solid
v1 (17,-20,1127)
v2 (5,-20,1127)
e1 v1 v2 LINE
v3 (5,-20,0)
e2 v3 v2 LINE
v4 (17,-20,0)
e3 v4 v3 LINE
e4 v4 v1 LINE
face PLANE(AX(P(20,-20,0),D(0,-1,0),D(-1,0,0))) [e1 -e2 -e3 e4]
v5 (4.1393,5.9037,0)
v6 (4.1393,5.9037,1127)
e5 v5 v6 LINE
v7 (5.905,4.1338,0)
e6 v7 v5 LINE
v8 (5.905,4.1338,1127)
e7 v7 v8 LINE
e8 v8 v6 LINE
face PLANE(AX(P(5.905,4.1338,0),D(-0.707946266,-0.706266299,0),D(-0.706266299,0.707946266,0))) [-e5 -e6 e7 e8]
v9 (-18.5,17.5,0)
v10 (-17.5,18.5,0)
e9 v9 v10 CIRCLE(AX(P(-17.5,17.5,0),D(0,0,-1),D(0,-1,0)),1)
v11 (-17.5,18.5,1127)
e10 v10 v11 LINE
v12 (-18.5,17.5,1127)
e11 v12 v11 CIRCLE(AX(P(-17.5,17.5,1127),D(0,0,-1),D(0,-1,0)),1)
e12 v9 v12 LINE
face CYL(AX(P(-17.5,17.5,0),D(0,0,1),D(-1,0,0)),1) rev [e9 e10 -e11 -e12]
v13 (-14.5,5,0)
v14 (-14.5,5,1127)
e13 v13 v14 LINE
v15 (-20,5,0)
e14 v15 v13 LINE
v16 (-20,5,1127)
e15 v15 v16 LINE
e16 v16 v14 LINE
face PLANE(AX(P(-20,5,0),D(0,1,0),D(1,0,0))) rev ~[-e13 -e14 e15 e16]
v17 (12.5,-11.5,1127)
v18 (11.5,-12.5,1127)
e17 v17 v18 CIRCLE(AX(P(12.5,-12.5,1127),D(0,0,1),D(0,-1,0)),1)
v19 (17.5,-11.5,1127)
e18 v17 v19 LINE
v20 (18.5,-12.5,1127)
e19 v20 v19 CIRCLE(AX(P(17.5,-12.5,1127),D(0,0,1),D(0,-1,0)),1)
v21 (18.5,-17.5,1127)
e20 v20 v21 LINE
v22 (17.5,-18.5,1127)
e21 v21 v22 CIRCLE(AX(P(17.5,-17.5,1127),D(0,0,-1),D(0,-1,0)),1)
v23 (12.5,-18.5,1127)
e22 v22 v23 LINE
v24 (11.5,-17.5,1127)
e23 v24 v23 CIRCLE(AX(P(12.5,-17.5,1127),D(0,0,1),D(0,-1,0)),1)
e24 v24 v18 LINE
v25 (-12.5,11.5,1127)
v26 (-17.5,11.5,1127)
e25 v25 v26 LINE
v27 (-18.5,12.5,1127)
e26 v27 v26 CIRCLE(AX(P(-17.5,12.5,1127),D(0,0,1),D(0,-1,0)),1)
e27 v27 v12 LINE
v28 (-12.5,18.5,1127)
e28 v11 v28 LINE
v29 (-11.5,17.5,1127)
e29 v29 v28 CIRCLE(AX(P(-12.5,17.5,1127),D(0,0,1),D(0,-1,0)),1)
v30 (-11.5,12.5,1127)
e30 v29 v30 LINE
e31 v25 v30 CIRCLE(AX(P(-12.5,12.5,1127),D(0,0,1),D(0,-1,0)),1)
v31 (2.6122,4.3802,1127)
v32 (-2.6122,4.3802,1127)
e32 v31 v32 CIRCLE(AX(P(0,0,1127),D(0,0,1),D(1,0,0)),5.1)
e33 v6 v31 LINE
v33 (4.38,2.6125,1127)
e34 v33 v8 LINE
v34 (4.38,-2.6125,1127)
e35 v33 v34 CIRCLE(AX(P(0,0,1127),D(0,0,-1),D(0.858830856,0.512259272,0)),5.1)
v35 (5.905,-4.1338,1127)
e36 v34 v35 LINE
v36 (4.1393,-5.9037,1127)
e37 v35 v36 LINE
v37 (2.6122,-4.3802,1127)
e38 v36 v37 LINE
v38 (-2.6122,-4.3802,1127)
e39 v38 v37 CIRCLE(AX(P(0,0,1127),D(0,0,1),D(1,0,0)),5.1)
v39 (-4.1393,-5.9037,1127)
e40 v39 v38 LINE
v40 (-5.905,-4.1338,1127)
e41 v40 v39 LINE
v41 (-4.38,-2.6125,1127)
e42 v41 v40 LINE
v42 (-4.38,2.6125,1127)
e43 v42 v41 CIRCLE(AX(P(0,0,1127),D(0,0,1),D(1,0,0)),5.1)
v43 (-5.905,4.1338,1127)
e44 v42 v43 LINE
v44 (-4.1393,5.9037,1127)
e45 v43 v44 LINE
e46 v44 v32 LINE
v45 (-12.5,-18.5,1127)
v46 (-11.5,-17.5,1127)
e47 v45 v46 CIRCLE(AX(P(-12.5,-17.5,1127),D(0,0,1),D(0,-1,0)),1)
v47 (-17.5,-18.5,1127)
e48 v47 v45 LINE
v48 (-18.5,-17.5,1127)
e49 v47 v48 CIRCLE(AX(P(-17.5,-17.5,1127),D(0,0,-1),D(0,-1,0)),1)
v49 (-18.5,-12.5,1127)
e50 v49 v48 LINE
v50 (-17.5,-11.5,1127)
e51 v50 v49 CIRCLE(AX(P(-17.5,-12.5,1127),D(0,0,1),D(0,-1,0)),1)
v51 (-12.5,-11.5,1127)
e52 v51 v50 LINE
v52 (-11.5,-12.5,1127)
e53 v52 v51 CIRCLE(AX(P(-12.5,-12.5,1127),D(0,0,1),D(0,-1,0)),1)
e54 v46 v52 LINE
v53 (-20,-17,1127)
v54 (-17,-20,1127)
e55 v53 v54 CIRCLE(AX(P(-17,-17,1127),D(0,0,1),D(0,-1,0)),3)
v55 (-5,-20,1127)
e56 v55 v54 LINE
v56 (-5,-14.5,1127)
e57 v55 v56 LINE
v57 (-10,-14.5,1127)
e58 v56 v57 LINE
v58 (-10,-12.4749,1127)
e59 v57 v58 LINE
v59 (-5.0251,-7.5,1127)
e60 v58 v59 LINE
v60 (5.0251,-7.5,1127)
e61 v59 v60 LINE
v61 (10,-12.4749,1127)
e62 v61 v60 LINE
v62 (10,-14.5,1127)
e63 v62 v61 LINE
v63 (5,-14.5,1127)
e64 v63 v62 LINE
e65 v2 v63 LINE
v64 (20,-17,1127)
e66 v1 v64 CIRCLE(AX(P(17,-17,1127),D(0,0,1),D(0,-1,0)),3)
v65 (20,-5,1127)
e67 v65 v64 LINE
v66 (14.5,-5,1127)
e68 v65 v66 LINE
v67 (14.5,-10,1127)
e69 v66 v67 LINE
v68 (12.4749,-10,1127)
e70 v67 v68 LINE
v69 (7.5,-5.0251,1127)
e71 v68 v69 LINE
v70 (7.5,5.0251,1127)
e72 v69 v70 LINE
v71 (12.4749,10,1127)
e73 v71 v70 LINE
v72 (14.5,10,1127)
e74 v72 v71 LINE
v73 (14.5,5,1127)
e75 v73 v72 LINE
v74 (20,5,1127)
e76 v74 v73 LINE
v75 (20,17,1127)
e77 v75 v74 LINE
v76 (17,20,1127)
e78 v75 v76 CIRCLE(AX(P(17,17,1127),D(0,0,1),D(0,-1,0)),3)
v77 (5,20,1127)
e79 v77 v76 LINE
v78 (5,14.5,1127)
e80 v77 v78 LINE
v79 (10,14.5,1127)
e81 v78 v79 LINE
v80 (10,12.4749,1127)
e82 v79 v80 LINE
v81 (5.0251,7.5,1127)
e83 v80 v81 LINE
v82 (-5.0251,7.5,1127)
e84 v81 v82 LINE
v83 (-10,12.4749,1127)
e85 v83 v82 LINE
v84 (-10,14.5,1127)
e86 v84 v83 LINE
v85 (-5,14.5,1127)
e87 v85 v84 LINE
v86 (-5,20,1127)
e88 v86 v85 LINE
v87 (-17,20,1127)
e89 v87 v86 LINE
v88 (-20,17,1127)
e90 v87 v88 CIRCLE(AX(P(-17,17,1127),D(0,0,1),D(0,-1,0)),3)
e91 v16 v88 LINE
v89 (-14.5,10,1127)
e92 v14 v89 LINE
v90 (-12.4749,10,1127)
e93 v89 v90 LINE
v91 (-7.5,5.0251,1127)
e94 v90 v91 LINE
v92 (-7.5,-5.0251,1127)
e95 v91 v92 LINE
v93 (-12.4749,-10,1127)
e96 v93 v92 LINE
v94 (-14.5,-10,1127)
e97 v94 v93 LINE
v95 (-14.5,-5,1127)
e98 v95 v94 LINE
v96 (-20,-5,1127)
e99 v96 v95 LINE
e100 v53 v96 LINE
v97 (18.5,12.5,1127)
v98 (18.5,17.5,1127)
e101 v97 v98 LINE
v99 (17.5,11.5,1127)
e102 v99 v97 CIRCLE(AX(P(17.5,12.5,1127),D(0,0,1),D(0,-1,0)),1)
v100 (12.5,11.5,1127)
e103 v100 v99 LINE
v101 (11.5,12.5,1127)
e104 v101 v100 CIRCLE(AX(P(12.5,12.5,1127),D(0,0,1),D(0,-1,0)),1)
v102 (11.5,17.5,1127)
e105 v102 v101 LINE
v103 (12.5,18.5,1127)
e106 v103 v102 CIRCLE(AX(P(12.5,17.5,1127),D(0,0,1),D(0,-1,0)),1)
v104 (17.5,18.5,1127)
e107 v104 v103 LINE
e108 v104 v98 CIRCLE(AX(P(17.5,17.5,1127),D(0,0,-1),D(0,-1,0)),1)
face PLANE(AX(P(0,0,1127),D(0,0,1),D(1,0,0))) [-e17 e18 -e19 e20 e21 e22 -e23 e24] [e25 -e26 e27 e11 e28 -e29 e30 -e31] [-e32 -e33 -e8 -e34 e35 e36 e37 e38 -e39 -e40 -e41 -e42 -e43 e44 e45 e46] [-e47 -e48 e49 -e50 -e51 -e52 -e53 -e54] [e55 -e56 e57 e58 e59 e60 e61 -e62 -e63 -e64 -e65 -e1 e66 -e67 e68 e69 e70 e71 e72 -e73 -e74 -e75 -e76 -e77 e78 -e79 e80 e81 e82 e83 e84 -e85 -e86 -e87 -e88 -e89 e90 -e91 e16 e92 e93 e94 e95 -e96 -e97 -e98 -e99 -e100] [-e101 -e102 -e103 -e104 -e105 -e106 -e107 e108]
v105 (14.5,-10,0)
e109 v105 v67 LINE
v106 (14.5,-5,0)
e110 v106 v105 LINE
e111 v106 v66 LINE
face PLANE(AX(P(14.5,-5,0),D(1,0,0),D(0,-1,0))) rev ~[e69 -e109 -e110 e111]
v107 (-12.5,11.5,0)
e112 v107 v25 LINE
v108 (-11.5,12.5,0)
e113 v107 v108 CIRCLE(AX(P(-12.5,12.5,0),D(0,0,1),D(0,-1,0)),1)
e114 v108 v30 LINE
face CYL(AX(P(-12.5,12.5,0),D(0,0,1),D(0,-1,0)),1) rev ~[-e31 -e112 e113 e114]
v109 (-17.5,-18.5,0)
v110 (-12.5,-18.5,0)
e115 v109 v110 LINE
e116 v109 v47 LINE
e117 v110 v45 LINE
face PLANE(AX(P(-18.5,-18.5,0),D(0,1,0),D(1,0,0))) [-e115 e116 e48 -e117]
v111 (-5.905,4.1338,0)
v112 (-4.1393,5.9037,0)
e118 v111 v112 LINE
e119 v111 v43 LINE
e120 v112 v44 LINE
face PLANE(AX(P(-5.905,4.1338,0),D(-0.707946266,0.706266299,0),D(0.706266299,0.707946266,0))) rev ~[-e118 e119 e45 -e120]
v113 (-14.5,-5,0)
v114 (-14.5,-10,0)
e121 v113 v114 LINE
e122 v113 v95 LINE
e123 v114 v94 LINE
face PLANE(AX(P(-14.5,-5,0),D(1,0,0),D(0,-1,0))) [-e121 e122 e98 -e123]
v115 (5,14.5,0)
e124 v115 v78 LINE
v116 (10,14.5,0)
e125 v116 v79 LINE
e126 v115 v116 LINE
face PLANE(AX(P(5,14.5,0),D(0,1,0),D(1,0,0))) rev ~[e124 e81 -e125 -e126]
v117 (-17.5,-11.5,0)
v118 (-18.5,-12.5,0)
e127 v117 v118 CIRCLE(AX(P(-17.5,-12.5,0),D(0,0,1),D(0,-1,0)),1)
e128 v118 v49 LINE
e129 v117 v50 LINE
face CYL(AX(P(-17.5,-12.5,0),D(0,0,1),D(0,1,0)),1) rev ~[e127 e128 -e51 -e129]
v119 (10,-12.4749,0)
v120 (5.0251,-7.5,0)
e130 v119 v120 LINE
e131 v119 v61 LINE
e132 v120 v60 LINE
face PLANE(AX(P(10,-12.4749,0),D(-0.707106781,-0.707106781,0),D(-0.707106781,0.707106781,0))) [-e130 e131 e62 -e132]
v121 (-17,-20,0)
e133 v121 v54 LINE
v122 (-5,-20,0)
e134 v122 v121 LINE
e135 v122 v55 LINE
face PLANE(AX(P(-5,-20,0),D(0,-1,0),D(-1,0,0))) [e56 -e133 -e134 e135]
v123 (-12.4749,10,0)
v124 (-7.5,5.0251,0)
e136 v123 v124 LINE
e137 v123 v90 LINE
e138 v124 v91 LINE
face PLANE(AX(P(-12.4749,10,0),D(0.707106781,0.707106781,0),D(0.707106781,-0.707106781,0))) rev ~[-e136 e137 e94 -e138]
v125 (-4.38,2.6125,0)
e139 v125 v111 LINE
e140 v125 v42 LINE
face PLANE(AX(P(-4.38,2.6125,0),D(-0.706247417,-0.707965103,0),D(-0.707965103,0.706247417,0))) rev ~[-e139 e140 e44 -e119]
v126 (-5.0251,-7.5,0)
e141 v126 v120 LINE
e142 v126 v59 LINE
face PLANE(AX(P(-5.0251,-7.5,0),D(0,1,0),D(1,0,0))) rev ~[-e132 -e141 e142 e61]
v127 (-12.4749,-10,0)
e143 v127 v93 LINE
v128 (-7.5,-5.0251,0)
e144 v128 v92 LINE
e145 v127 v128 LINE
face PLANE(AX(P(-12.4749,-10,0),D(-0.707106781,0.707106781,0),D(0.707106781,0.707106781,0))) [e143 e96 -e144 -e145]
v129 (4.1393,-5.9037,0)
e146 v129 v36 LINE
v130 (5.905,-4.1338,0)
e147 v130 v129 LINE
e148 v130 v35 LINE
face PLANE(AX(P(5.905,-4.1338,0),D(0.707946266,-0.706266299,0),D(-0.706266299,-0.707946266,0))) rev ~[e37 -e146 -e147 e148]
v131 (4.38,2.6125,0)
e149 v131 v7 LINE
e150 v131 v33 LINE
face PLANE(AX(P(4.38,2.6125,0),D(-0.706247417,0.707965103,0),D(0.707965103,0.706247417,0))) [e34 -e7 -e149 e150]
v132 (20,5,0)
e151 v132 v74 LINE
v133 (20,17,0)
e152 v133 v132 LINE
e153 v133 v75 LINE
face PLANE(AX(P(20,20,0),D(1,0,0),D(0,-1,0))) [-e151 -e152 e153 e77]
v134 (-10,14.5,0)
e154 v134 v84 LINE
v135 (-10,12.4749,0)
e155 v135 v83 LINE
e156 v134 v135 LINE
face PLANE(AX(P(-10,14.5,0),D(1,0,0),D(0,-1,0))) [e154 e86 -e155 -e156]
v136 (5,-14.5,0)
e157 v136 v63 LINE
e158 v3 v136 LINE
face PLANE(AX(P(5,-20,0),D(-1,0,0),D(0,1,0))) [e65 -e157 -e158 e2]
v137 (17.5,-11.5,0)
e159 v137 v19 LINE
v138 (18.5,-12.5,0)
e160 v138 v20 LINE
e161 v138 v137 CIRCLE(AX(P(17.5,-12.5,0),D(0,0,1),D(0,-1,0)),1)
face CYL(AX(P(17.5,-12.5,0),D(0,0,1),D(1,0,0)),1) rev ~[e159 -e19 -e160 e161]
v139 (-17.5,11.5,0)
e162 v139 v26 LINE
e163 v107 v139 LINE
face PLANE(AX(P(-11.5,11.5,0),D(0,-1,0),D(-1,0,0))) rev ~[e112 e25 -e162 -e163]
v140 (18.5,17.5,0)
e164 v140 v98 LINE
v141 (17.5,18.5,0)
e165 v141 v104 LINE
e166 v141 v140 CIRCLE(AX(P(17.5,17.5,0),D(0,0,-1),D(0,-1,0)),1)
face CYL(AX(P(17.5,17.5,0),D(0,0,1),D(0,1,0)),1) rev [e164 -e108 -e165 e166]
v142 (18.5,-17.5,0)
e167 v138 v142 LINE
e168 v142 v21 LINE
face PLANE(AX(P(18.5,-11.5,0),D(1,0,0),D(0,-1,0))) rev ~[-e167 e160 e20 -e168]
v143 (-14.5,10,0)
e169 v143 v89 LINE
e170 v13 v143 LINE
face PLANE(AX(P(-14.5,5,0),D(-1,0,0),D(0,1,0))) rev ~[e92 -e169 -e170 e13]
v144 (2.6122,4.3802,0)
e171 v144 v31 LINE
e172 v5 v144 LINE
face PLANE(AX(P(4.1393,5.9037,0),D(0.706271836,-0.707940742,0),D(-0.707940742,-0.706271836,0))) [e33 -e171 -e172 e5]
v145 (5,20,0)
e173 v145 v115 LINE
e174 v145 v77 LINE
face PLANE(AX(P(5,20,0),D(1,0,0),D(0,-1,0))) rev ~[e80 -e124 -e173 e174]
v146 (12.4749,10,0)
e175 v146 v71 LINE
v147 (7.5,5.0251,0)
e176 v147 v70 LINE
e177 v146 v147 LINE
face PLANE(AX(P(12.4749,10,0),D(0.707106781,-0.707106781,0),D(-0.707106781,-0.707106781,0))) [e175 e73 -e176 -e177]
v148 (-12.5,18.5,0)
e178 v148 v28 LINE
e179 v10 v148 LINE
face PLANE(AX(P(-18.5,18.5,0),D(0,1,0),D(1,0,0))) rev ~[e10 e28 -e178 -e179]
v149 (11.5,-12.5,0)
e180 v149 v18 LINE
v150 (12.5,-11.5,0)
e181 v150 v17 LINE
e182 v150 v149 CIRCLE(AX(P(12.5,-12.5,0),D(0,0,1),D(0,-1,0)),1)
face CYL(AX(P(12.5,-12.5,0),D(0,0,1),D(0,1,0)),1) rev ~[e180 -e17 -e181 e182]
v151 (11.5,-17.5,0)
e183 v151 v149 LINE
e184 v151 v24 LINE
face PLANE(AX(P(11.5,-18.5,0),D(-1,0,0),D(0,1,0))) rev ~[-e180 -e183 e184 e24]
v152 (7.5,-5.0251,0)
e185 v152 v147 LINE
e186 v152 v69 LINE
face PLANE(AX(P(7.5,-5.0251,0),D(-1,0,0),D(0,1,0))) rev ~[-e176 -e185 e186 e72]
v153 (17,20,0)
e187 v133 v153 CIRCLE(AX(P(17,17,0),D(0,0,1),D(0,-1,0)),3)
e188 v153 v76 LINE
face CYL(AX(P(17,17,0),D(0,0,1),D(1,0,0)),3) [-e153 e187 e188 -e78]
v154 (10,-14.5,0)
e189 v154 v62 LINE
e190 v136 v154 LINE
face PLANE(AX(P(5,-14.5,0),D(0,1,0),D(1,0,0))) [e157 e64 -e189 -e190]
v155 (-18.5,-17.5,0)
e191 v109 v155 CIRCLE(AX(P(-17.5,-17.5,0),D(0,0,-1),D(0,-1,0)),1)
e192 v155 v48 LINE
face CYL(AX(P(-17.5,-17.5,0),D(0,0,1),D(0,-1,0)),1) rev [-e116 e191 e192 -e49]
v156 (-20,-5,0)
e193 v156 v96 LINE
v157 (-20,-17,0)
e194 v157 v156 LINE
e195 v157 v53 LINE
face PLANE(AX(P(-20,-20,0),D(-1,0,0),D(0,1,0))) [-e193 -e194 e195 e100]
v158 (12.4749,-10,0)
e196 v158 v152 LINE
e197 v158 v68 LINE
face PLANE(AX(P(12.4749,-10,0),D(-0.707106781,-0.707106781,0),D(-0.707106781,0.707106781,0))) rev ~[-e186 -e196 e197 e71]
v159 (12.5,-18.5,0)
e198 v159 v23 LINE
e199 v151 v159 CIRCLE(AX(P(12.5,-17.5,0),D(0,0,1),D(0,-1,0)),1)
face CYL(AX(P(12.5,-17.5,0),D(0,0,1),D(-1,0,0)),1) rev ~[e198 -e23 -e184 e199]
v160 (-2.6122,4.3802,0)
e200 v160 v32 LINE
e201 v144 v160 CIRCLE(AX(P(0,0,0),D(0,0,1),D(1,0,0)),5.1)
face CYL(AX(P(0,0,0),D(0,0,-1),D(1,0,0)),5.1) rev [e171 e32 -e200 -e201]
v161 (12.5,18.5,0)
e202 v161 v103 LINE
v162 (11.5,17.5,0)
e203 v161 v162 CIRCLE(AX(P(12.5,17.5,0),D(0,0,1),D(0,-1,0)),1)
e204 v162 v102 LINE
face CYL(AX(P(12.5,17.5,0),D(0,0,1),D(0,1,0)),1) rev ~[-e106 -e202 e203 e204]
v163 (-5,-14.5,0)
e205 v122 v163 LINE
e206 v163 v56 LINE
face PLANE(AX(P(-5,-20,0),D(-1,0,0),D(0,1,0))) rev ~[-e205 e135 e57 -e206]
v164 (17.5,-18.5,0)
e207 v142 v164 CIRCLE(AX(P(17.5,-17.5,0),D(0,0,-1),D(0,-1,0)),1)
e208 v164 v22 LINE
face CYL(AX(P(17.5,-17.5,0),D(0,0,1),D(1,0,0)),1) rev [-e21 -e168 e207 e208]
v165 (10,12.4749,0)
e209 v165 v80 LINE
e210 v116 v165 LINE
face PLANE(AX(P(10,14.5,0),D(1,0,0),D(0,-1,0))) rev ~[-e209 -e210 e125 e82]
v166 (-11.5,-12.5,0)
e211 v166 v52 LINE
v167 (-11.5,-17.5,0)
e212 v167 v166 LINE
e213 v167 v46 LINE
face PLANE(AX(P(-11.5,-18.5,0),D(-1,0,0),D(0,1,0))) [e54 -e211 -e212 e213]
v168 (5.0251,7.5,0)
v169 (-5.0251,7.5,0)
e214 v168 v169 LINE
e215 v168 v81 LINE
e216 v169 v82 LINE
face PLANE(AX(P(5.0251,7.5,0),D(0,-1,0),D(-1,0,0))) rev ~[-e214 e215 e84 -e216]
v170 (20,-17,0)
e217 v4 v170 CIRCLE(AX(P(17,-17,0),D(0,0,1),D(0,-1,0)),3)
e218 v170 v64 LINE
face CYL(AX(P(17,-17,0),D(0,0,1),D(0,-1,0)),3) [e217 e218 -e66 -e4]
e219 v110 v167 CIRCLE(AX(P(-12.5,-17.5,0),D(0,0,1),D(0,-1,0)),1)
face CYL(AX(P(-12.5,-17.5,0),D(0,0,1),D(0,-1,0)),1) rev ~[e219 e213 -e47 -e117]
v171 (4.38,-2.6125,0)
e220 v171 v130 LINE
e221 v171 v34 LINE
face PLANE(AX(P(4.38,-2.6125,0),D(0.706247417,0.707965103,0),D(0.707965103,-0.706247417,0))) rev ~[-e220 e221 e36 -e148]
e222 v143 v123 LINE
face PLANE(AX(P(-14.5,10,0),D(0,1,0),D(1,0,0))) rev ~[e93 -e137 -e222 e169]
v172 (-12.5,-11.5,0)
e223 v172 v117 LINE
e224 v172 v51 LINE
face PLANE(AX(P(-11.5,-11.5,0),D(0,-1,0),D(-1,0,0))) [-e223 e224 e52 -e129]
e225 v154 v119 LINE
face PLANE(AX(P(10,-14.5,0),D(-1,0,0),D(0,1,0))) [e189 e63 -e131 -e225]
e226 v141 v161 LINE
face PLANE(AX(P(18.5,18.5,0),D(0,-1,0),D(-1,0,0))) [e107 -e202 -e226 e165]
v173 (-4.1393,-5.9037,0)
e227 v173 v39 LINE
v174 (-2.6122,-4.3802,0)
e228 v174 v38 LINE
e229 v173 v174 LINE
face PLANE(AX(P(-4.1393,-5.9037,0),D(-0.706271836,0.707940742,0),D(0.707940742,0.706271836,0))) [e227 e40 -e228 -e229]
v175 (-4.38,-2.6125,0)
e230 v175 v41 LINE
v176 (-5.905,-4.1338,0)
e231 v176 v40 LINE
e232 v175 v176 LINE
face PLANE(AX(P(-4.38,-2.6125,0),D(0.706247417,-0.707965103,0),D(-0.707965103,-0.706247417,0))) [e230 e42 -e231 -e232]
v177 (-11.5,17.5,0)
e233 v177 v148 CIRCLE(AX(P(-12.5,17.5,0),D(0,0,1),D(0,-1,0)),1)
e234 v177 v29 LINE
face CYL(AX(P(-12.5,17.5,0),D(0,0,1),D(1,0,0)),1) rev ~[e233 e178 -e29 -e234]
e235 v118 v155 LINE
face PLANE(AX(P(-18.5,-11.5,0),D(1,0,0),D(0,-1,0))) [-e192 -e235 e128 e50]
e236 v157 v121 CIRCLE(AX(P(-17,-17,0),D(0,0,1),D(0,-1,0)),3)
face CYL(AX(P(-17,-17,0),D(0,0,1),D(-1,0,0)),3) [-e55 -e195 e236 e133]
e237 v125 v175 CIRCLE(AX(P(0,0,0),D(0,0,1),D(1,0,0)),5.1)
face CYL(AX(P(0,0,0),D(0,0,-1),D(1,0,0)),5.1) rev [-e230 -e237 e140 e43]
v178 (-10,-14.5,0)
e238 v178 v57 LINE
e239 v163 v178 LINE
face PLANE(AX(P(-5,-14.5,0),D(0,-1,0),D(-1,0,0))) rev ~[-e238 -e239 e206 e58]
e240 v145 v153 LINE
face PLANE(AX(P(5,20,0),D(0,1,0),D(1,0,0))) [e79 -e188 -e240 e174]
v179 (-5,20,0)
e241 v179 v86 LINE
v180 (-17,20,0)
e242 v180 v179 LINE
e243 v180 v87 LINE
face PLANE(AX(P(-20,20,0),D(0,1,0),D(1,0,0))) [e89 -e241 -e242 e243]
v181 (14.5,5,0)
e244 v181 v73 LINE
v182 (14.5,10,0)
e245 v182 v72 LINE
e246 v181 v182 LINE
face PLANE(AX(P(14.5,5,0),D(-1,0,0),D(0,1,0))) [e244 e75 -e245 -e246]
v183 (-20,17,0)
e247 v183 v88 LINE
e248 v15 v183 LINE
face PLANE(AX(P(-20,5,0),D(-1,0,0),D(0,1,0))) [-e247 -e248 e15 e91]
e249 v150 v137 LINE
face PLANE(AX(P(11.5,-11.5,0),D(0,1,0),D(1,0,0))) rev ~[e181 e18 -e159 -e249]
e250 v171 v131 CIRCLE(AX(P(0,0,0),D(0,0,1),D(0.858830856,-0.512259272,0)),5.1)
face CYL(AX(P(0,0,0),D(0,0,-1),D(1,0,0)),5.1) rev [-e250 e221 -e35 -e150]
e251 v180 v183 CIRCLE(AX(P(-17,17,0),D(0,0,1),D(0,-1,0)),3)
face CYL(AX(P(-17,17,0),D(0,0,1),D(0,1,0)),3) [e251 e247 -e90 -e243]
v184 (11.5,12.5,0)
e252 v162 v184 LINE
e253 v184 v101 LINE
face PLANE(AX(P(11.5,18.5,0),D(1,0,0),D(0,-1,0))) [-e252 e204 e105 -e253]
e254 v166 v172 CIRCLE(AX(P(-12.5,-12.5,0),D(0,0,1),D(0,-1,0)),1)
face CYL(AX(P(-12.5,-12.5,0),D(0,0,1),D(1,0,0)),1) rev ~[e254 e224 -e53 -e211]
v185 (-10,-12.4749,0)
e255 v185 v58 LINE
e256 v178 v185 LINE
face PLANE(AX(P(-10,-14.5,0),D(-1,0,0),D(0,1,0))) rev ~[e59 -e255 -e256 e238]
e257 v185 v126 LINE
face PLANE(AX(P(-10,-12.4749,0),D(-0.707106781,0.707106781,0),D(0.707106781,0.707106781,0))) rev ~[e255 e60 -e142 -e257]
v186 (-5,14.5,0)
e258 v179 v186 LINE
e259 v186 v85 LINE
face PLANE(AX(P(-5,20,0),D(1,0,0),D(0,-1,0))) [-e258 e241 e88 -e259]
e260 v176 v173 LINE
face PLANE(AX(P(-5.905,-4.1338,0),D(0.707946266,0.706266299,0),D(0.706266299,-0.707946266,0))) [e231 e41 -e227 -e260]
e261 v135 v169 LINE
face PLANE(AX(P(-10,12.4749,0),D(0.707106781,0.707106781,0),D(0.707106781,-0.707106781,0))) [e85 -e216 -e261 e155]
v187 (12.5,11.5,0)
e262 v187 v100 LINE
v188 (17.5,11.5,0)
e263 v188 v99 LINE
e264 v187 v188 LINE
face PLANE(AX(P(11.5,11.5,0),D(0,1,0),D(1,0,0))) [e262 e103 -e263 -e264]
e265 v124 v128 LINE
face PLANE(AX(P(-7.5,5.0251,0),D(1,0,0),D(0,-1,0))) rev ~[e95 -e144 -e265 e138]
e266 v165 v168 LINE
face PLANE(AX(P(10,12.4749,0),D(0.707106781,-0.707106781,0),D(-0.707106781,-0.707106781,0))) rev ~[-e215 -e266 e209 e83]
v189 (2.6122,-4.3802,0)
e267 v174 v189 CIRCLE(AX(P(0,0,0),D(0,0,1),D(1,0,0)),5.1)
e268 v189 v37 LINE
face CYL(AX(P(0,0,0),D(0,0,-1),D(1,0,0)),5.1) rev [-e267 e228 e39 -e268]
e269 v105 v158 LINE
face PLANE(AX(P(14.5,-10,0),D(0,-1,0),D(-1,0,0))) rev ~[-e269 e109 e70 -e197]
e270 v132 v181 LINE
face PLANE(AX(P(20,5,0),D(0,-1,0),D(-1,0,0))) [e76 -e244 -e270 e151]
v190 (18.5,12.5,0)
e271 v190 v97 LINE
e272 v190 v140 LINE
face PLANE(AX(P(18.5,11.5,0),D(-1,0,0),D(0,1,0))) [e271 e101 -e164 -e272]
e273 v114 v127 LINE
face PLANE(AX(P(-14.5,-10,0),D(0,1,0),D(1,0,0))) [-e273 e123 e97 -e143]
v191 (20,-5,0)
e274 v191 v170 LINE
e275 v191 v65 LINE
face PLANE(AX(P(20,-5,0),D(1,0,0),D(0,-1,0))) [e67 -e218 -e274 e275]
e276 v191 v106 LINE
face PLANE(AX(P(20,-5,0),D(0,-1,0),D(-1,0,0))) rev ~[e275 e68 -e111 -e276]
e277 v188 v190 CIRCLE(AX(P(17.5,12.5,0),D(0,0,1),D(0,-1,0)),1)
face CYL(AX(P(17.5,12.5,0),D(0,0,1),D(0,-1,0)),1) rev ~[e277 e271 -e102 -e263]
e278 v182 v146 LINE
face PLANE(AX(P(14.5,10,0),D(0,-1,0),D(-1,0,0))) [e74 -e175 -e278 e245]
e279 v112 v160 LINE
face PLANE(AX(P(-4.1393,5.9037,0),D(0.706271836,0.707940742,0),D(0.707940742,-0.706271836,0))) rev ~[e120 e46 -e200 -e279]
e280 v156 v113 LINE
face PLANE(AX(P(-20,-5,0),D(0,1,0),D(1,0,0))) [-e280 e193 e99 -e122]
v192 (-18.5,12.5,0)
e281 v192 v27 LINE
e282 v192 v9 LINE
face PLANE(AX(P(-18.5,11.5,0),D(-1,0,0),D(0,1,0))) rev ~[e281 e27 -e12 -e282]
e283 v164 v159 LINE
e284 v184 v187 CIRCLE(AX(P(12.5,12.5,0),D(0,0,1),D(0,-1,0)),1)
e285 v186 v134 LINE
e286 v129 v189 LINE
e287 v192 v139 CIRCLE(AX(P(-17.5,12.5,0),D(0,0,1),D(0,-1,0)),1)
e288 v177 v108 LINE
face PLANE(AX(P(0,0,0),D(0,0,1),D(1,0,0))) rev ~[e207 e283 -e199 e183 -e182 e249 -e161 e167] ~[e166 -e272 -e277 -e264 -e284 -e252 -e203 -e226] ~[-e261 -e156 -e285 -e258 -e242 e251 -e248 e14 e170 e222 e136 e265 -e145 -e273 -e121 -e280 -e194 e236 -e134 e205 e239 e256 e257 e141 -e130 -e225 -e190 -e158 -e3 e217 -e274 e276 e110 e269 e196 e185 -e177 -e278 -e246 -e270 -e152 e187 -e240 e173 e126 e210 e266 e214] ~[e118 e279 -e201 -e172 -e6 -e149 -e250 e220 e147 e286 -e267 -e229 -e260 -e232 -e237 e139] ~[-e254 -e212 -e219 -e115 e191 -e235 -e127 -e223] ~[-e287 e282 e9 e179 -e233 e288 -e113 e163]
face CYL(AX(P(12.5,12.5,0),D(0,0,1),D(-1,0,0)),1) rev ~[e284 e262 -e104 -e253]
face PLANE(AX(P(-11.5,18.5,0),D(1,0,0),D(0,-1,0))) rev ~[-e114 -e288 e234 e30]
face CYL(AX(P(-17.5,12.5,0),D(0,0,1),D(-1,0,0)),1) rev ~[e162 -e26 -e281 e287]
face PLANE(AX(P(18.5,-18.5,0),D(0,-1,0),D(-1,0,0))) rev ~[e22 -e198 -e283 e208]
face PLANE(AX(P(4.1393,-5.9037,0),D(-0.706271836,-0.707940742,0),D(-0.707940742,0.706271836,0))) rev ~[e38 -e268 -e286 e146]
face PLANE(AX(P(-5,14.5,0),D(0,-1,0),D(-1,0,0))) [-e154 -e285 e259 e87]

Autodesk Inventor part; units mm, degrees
ref_plane "YZ Plane" through (0, 0, 0) normal (1, 0, 0) x (0, 1, 0)
ref_plane "XZ Plane" through (0, 0, 0) normal (0, 1, 0) x (-1, 0, 0)
ref_plane "XY Plane" through (0, 0, 0) normal (0, 0, 1) x (1, 0, 0)
sketch "T-Slot 4040 Base" plane through (0, 0, 0) normal (0, 0, 1) x (1, 0, 0)
  line L0 (-28, 0) -> (28, 0) construction
  line L1 (0, -28) -> (0, 28) construction
  circle A0 centre (0, 0) radius 5.1
  line L2 (-7.5, -7.5) -> (7.5, -7.5)
  line L3 (7.5, -7.5) -> (7.5, 7.5)
  line L4 (7.5, 7.5) -> (-7.5, 7.5)
  line L5 (-7.5, 7.5) -> (-7.5, -7.5)
  line L6 (-7.5, -7.5) -> (7.5, 7.5) construction
  line L7 (7.5, -7.5) -> (-7.5, 7.5) construction
  line L8 (-20, 20) -> (20, 20)
  line L9 (20, 20) -> (20, -20)
  line L10 (20, -20) -> (-20, -20)
  line L11 (-20, -20) -> (-20, 20)
  line L12 (-20, 20) -> (20, -20) construction
  line L13 (20, 20) -> (-20, -20) construction
  line L14 (20, 5) -> (14.5, 5)
  line L15 (14.5, 5) -> (14.5, 10)
  line L16 (14.5, 10) -> (12.4749, 10)
  line L17 (12.4749, 10) -> (7.5, 5.0251)
  line L18 (5, 20) -> (5, 14.5)
  line L19 (5, 14.5) -> (10, 14.5)
  line L20 (10, 14.5) -> (10, 12.4749)
  line L21 (10, 12.4749) -> (5.0251, 7.5)
  line L22 (18.5, 18.5) -> (11.5, 18.5)
  line L23 (11.5, 18.5) -> (11.5, 11.5)
  line L24 (11.5, 11.5) -> (18.5, 11.5)
  line L25 (18.5, 11.5) -> (18.5, 18.5)
  line L26 (18.5, 18.5) -> (11.5, 11.5) construction
  line L27 (11.5, 18.5) -> (18.5, 11.5) construction
  line L28 (3.0732, 1.3088) -> (4.38, 2.6125) construction
  line L29 (5.905, 4.1338) -> (4.1393, 5.9037)
  line L30 (4.1393, 5.9037) -> (2.6122, 4.3802)
  line L31 (1.3075, 3.0787) -> (3.0732, 1.3088) construction
  line L32 (3.0732, 1.3088) -> (4.1393, 5.9037) construction
  line L33 (5.905, 4.1338) -> (1.3075, 3.0787) construction
  line L34 (4.38, 2.6125) -> (5.905, 4.1338)
  line L35 (2.6122, 4.3802) -> (1.3075, 3.0787) construction
  line L36 (-20, 5) -> (-14.5, 5)
  line L37 (-14.5, 5) -> (-14.5, 10)
  line L38 (-14.5, 10) -> (-12.4749, 10)
  line L39 (-12.4749, 10) -> (-7.5, 5.0251)
  line L40 (-5, 20) -> (-5, 14.5)
  line L41 (-5, 14.5) -> (-10, 14.5)
  line L42 (-10, 14.5) -> (-10, 12.4749)
  line L43 (-10, 12.4749) -> (-5.0251, 7.5)
  line L44 (-18.5, 18.5) -> (-11.5, 18.5)
  line L45 (-11.5, 18.5) -> (-11.5, 11.5)
  line L46 (-11.5, 11.5) -> (-18.5, 11.5)
  line L47 (-18.5, 11.5) -> (-18.5, 18.5)
  line L48 (-5.905, 4.1338) -> (-4.1393, 5.9037)
  line L49 (-4.1393, 5.9037) -> (-2.6122, 4.3802)
  line L50 (-4.38, 2.6125) -> (-5.905, 4.1338)
  line L51 (7.5, -7.5) -> (-7.5, -7.5)
  line L52 (20, -5) -> (14.5, -5)
  line L53 (14.5, -5) -> (14.5, -10)
  line L54 (14.5, -10) -> (12.4749, -10)
  line L55 (12.4749, -10) -> (7.5, -5.0251)
  line L56 (5, -20) -> (5, -14.5)
  line L57 (5, -14.5) -> (10, -14.5)
  line L58 (10, -14.5) -> (10, -12.4749)
  line L59 (10, -12.4749) -> (5.0251, -7.5)
  line L60 (18.5, -18.5) -> (11.5, -18.5)
  line L61 (11.5, -18.5) -> (11.5, -11.5)
  line L62 (11.5, -11.5) -> (18.5, -11.5)
  line L63 (18.5, -11.5) -> (18.5, -18.5)
  line L64 (18.5, -18.5) -> (11.5, -11.5) construction
  line L65 (11.5, -18.5) -> (18.5, -11.5) construction
  line L66 (3.0732, -1.3088) -> (4.38, -2.6125) construction
  line L67 (5.905, -4.1338) -> (4.1393, -5.9037)
  line L68 (4.1393, -5.9037) -> (2.6122, -4.3802)
  line L69 (1.3075, -3.0787) -> (3.0732, -1.3088) construction
  line L70 (3.0732, -1.3088) -> (4.1393, -5.9037) construction
  line L71 (5.905, -4.1338) -> (1.3075, -3.0787) construction
  line L72 (4.38, -2.6125) -> (5.905, -4.1338)
  line L73 (2.6122, -4.3802) -> (1.3075, -3.0787) construction
  line L74 (-4.38, -2.6125) -> (-5.905, -4.1338)
  line L75 (-4.1393, -5.9037) -> (-2.6122, -4.3802)
  line L76 (-5.905, -4.1338) -> (-4.1393, -5.9037)
  line L77 (-12.4749, -10) -> (-7.5, -5.0251)
  line L78 (-10, -12.4749) -> (-5.0251, -7.5)
  line L79 (-10, -14.5) -> (-10, -12.4749)
  line L80 (-5, -14.5) -> (-10, -14.5)
  line L81 (-5, -20) -> (-5, -14.5)
  line L82 (-18.5, -18.5) -> (-11.5, -18.5)
  line L83 (-11.5, -18.5) -> (-11.5, -11.5)
  line L84 (-11.5, -11.5) -> (-18.5, -11.5)
  line L85 (-18.5, -11.5) -> (-18.5, -18.5)
  line L86 (-14.5, -10) -> (-12.4749, -10)
  line L87 (-14.5, -5) -> (-14.5, -10)
  line L88 (-20, -5) -> (-14.5, -5)
  point P0 (15, 15)
  point P1 (3.6062, 3.6062)
  point P2 (3.6062, 3.6062)
  point P3 (15, -15)
  point P4 (3.6062, -3.6062)
  point P5 (3.6062, -3.6062)
  dimension "d9" = 10.2
  dimension "d12" = 40
  dimension "d13" = 40
  dimension "d14" = 5.5
  dimension "d15" = 15
  dimension "d16" = 7
  dimension "d17" = 10
  dimension "d20" = 1.75
  dimension "d21" = 7
  dimension "d22" = 2
  dimension "d29" = 1.5
  dimension "d30" = 2.5
extrude "Extrusion1" add sketch "T-Slot 4040 Base" along normal blind 1127 contours L5 L4 L3 L2 | L2 L78 L79 L80 L81 L10 L11 L88 L87 L86 L77 L5 | L2 L3 L55 L54 L53 L52 L9 L10 L56 L57 L58 L59 | L39 L38 L37 L36 L11 L8 L40 L41 L42 L43 L4 L5 | L3 L4 L21 L20 L19 L18 L8 L9 L14 L15 L16 L17
fillet "Rundung1" radius 1 16 edges at (11.5, 18.5, 563.5) (18.5, 18.5, 563.5) (18.5, 11.5, 563.5) (11.5, 11.5, 563.5) (-11.5, 18.5, 563.5) (-18.5, 18.5, 563.5) (-18.5, 11.5, 563.5) (-11.5, 11.5, 563.5) (-18.5, -11.5, 563.5) (-11.5, -11.5, 563.5) (-11.5, -18.5, 563.5) (-18.5, -18.5, 563.5) (11.5, -18.5, 563.5) (11.5, -11.5, 563.5) (18.5, -11.5, 563.5) (18.5, -18.5, 563.5)
fillet "Rundung2" radius 3 4 edges at (20, 20, 563.5) (20, -20, 563.5) (-20, -20, 563.5) (-20, 20, 563.5)
properties part number "T-SLOT 4040 B-Type 1127mm"
